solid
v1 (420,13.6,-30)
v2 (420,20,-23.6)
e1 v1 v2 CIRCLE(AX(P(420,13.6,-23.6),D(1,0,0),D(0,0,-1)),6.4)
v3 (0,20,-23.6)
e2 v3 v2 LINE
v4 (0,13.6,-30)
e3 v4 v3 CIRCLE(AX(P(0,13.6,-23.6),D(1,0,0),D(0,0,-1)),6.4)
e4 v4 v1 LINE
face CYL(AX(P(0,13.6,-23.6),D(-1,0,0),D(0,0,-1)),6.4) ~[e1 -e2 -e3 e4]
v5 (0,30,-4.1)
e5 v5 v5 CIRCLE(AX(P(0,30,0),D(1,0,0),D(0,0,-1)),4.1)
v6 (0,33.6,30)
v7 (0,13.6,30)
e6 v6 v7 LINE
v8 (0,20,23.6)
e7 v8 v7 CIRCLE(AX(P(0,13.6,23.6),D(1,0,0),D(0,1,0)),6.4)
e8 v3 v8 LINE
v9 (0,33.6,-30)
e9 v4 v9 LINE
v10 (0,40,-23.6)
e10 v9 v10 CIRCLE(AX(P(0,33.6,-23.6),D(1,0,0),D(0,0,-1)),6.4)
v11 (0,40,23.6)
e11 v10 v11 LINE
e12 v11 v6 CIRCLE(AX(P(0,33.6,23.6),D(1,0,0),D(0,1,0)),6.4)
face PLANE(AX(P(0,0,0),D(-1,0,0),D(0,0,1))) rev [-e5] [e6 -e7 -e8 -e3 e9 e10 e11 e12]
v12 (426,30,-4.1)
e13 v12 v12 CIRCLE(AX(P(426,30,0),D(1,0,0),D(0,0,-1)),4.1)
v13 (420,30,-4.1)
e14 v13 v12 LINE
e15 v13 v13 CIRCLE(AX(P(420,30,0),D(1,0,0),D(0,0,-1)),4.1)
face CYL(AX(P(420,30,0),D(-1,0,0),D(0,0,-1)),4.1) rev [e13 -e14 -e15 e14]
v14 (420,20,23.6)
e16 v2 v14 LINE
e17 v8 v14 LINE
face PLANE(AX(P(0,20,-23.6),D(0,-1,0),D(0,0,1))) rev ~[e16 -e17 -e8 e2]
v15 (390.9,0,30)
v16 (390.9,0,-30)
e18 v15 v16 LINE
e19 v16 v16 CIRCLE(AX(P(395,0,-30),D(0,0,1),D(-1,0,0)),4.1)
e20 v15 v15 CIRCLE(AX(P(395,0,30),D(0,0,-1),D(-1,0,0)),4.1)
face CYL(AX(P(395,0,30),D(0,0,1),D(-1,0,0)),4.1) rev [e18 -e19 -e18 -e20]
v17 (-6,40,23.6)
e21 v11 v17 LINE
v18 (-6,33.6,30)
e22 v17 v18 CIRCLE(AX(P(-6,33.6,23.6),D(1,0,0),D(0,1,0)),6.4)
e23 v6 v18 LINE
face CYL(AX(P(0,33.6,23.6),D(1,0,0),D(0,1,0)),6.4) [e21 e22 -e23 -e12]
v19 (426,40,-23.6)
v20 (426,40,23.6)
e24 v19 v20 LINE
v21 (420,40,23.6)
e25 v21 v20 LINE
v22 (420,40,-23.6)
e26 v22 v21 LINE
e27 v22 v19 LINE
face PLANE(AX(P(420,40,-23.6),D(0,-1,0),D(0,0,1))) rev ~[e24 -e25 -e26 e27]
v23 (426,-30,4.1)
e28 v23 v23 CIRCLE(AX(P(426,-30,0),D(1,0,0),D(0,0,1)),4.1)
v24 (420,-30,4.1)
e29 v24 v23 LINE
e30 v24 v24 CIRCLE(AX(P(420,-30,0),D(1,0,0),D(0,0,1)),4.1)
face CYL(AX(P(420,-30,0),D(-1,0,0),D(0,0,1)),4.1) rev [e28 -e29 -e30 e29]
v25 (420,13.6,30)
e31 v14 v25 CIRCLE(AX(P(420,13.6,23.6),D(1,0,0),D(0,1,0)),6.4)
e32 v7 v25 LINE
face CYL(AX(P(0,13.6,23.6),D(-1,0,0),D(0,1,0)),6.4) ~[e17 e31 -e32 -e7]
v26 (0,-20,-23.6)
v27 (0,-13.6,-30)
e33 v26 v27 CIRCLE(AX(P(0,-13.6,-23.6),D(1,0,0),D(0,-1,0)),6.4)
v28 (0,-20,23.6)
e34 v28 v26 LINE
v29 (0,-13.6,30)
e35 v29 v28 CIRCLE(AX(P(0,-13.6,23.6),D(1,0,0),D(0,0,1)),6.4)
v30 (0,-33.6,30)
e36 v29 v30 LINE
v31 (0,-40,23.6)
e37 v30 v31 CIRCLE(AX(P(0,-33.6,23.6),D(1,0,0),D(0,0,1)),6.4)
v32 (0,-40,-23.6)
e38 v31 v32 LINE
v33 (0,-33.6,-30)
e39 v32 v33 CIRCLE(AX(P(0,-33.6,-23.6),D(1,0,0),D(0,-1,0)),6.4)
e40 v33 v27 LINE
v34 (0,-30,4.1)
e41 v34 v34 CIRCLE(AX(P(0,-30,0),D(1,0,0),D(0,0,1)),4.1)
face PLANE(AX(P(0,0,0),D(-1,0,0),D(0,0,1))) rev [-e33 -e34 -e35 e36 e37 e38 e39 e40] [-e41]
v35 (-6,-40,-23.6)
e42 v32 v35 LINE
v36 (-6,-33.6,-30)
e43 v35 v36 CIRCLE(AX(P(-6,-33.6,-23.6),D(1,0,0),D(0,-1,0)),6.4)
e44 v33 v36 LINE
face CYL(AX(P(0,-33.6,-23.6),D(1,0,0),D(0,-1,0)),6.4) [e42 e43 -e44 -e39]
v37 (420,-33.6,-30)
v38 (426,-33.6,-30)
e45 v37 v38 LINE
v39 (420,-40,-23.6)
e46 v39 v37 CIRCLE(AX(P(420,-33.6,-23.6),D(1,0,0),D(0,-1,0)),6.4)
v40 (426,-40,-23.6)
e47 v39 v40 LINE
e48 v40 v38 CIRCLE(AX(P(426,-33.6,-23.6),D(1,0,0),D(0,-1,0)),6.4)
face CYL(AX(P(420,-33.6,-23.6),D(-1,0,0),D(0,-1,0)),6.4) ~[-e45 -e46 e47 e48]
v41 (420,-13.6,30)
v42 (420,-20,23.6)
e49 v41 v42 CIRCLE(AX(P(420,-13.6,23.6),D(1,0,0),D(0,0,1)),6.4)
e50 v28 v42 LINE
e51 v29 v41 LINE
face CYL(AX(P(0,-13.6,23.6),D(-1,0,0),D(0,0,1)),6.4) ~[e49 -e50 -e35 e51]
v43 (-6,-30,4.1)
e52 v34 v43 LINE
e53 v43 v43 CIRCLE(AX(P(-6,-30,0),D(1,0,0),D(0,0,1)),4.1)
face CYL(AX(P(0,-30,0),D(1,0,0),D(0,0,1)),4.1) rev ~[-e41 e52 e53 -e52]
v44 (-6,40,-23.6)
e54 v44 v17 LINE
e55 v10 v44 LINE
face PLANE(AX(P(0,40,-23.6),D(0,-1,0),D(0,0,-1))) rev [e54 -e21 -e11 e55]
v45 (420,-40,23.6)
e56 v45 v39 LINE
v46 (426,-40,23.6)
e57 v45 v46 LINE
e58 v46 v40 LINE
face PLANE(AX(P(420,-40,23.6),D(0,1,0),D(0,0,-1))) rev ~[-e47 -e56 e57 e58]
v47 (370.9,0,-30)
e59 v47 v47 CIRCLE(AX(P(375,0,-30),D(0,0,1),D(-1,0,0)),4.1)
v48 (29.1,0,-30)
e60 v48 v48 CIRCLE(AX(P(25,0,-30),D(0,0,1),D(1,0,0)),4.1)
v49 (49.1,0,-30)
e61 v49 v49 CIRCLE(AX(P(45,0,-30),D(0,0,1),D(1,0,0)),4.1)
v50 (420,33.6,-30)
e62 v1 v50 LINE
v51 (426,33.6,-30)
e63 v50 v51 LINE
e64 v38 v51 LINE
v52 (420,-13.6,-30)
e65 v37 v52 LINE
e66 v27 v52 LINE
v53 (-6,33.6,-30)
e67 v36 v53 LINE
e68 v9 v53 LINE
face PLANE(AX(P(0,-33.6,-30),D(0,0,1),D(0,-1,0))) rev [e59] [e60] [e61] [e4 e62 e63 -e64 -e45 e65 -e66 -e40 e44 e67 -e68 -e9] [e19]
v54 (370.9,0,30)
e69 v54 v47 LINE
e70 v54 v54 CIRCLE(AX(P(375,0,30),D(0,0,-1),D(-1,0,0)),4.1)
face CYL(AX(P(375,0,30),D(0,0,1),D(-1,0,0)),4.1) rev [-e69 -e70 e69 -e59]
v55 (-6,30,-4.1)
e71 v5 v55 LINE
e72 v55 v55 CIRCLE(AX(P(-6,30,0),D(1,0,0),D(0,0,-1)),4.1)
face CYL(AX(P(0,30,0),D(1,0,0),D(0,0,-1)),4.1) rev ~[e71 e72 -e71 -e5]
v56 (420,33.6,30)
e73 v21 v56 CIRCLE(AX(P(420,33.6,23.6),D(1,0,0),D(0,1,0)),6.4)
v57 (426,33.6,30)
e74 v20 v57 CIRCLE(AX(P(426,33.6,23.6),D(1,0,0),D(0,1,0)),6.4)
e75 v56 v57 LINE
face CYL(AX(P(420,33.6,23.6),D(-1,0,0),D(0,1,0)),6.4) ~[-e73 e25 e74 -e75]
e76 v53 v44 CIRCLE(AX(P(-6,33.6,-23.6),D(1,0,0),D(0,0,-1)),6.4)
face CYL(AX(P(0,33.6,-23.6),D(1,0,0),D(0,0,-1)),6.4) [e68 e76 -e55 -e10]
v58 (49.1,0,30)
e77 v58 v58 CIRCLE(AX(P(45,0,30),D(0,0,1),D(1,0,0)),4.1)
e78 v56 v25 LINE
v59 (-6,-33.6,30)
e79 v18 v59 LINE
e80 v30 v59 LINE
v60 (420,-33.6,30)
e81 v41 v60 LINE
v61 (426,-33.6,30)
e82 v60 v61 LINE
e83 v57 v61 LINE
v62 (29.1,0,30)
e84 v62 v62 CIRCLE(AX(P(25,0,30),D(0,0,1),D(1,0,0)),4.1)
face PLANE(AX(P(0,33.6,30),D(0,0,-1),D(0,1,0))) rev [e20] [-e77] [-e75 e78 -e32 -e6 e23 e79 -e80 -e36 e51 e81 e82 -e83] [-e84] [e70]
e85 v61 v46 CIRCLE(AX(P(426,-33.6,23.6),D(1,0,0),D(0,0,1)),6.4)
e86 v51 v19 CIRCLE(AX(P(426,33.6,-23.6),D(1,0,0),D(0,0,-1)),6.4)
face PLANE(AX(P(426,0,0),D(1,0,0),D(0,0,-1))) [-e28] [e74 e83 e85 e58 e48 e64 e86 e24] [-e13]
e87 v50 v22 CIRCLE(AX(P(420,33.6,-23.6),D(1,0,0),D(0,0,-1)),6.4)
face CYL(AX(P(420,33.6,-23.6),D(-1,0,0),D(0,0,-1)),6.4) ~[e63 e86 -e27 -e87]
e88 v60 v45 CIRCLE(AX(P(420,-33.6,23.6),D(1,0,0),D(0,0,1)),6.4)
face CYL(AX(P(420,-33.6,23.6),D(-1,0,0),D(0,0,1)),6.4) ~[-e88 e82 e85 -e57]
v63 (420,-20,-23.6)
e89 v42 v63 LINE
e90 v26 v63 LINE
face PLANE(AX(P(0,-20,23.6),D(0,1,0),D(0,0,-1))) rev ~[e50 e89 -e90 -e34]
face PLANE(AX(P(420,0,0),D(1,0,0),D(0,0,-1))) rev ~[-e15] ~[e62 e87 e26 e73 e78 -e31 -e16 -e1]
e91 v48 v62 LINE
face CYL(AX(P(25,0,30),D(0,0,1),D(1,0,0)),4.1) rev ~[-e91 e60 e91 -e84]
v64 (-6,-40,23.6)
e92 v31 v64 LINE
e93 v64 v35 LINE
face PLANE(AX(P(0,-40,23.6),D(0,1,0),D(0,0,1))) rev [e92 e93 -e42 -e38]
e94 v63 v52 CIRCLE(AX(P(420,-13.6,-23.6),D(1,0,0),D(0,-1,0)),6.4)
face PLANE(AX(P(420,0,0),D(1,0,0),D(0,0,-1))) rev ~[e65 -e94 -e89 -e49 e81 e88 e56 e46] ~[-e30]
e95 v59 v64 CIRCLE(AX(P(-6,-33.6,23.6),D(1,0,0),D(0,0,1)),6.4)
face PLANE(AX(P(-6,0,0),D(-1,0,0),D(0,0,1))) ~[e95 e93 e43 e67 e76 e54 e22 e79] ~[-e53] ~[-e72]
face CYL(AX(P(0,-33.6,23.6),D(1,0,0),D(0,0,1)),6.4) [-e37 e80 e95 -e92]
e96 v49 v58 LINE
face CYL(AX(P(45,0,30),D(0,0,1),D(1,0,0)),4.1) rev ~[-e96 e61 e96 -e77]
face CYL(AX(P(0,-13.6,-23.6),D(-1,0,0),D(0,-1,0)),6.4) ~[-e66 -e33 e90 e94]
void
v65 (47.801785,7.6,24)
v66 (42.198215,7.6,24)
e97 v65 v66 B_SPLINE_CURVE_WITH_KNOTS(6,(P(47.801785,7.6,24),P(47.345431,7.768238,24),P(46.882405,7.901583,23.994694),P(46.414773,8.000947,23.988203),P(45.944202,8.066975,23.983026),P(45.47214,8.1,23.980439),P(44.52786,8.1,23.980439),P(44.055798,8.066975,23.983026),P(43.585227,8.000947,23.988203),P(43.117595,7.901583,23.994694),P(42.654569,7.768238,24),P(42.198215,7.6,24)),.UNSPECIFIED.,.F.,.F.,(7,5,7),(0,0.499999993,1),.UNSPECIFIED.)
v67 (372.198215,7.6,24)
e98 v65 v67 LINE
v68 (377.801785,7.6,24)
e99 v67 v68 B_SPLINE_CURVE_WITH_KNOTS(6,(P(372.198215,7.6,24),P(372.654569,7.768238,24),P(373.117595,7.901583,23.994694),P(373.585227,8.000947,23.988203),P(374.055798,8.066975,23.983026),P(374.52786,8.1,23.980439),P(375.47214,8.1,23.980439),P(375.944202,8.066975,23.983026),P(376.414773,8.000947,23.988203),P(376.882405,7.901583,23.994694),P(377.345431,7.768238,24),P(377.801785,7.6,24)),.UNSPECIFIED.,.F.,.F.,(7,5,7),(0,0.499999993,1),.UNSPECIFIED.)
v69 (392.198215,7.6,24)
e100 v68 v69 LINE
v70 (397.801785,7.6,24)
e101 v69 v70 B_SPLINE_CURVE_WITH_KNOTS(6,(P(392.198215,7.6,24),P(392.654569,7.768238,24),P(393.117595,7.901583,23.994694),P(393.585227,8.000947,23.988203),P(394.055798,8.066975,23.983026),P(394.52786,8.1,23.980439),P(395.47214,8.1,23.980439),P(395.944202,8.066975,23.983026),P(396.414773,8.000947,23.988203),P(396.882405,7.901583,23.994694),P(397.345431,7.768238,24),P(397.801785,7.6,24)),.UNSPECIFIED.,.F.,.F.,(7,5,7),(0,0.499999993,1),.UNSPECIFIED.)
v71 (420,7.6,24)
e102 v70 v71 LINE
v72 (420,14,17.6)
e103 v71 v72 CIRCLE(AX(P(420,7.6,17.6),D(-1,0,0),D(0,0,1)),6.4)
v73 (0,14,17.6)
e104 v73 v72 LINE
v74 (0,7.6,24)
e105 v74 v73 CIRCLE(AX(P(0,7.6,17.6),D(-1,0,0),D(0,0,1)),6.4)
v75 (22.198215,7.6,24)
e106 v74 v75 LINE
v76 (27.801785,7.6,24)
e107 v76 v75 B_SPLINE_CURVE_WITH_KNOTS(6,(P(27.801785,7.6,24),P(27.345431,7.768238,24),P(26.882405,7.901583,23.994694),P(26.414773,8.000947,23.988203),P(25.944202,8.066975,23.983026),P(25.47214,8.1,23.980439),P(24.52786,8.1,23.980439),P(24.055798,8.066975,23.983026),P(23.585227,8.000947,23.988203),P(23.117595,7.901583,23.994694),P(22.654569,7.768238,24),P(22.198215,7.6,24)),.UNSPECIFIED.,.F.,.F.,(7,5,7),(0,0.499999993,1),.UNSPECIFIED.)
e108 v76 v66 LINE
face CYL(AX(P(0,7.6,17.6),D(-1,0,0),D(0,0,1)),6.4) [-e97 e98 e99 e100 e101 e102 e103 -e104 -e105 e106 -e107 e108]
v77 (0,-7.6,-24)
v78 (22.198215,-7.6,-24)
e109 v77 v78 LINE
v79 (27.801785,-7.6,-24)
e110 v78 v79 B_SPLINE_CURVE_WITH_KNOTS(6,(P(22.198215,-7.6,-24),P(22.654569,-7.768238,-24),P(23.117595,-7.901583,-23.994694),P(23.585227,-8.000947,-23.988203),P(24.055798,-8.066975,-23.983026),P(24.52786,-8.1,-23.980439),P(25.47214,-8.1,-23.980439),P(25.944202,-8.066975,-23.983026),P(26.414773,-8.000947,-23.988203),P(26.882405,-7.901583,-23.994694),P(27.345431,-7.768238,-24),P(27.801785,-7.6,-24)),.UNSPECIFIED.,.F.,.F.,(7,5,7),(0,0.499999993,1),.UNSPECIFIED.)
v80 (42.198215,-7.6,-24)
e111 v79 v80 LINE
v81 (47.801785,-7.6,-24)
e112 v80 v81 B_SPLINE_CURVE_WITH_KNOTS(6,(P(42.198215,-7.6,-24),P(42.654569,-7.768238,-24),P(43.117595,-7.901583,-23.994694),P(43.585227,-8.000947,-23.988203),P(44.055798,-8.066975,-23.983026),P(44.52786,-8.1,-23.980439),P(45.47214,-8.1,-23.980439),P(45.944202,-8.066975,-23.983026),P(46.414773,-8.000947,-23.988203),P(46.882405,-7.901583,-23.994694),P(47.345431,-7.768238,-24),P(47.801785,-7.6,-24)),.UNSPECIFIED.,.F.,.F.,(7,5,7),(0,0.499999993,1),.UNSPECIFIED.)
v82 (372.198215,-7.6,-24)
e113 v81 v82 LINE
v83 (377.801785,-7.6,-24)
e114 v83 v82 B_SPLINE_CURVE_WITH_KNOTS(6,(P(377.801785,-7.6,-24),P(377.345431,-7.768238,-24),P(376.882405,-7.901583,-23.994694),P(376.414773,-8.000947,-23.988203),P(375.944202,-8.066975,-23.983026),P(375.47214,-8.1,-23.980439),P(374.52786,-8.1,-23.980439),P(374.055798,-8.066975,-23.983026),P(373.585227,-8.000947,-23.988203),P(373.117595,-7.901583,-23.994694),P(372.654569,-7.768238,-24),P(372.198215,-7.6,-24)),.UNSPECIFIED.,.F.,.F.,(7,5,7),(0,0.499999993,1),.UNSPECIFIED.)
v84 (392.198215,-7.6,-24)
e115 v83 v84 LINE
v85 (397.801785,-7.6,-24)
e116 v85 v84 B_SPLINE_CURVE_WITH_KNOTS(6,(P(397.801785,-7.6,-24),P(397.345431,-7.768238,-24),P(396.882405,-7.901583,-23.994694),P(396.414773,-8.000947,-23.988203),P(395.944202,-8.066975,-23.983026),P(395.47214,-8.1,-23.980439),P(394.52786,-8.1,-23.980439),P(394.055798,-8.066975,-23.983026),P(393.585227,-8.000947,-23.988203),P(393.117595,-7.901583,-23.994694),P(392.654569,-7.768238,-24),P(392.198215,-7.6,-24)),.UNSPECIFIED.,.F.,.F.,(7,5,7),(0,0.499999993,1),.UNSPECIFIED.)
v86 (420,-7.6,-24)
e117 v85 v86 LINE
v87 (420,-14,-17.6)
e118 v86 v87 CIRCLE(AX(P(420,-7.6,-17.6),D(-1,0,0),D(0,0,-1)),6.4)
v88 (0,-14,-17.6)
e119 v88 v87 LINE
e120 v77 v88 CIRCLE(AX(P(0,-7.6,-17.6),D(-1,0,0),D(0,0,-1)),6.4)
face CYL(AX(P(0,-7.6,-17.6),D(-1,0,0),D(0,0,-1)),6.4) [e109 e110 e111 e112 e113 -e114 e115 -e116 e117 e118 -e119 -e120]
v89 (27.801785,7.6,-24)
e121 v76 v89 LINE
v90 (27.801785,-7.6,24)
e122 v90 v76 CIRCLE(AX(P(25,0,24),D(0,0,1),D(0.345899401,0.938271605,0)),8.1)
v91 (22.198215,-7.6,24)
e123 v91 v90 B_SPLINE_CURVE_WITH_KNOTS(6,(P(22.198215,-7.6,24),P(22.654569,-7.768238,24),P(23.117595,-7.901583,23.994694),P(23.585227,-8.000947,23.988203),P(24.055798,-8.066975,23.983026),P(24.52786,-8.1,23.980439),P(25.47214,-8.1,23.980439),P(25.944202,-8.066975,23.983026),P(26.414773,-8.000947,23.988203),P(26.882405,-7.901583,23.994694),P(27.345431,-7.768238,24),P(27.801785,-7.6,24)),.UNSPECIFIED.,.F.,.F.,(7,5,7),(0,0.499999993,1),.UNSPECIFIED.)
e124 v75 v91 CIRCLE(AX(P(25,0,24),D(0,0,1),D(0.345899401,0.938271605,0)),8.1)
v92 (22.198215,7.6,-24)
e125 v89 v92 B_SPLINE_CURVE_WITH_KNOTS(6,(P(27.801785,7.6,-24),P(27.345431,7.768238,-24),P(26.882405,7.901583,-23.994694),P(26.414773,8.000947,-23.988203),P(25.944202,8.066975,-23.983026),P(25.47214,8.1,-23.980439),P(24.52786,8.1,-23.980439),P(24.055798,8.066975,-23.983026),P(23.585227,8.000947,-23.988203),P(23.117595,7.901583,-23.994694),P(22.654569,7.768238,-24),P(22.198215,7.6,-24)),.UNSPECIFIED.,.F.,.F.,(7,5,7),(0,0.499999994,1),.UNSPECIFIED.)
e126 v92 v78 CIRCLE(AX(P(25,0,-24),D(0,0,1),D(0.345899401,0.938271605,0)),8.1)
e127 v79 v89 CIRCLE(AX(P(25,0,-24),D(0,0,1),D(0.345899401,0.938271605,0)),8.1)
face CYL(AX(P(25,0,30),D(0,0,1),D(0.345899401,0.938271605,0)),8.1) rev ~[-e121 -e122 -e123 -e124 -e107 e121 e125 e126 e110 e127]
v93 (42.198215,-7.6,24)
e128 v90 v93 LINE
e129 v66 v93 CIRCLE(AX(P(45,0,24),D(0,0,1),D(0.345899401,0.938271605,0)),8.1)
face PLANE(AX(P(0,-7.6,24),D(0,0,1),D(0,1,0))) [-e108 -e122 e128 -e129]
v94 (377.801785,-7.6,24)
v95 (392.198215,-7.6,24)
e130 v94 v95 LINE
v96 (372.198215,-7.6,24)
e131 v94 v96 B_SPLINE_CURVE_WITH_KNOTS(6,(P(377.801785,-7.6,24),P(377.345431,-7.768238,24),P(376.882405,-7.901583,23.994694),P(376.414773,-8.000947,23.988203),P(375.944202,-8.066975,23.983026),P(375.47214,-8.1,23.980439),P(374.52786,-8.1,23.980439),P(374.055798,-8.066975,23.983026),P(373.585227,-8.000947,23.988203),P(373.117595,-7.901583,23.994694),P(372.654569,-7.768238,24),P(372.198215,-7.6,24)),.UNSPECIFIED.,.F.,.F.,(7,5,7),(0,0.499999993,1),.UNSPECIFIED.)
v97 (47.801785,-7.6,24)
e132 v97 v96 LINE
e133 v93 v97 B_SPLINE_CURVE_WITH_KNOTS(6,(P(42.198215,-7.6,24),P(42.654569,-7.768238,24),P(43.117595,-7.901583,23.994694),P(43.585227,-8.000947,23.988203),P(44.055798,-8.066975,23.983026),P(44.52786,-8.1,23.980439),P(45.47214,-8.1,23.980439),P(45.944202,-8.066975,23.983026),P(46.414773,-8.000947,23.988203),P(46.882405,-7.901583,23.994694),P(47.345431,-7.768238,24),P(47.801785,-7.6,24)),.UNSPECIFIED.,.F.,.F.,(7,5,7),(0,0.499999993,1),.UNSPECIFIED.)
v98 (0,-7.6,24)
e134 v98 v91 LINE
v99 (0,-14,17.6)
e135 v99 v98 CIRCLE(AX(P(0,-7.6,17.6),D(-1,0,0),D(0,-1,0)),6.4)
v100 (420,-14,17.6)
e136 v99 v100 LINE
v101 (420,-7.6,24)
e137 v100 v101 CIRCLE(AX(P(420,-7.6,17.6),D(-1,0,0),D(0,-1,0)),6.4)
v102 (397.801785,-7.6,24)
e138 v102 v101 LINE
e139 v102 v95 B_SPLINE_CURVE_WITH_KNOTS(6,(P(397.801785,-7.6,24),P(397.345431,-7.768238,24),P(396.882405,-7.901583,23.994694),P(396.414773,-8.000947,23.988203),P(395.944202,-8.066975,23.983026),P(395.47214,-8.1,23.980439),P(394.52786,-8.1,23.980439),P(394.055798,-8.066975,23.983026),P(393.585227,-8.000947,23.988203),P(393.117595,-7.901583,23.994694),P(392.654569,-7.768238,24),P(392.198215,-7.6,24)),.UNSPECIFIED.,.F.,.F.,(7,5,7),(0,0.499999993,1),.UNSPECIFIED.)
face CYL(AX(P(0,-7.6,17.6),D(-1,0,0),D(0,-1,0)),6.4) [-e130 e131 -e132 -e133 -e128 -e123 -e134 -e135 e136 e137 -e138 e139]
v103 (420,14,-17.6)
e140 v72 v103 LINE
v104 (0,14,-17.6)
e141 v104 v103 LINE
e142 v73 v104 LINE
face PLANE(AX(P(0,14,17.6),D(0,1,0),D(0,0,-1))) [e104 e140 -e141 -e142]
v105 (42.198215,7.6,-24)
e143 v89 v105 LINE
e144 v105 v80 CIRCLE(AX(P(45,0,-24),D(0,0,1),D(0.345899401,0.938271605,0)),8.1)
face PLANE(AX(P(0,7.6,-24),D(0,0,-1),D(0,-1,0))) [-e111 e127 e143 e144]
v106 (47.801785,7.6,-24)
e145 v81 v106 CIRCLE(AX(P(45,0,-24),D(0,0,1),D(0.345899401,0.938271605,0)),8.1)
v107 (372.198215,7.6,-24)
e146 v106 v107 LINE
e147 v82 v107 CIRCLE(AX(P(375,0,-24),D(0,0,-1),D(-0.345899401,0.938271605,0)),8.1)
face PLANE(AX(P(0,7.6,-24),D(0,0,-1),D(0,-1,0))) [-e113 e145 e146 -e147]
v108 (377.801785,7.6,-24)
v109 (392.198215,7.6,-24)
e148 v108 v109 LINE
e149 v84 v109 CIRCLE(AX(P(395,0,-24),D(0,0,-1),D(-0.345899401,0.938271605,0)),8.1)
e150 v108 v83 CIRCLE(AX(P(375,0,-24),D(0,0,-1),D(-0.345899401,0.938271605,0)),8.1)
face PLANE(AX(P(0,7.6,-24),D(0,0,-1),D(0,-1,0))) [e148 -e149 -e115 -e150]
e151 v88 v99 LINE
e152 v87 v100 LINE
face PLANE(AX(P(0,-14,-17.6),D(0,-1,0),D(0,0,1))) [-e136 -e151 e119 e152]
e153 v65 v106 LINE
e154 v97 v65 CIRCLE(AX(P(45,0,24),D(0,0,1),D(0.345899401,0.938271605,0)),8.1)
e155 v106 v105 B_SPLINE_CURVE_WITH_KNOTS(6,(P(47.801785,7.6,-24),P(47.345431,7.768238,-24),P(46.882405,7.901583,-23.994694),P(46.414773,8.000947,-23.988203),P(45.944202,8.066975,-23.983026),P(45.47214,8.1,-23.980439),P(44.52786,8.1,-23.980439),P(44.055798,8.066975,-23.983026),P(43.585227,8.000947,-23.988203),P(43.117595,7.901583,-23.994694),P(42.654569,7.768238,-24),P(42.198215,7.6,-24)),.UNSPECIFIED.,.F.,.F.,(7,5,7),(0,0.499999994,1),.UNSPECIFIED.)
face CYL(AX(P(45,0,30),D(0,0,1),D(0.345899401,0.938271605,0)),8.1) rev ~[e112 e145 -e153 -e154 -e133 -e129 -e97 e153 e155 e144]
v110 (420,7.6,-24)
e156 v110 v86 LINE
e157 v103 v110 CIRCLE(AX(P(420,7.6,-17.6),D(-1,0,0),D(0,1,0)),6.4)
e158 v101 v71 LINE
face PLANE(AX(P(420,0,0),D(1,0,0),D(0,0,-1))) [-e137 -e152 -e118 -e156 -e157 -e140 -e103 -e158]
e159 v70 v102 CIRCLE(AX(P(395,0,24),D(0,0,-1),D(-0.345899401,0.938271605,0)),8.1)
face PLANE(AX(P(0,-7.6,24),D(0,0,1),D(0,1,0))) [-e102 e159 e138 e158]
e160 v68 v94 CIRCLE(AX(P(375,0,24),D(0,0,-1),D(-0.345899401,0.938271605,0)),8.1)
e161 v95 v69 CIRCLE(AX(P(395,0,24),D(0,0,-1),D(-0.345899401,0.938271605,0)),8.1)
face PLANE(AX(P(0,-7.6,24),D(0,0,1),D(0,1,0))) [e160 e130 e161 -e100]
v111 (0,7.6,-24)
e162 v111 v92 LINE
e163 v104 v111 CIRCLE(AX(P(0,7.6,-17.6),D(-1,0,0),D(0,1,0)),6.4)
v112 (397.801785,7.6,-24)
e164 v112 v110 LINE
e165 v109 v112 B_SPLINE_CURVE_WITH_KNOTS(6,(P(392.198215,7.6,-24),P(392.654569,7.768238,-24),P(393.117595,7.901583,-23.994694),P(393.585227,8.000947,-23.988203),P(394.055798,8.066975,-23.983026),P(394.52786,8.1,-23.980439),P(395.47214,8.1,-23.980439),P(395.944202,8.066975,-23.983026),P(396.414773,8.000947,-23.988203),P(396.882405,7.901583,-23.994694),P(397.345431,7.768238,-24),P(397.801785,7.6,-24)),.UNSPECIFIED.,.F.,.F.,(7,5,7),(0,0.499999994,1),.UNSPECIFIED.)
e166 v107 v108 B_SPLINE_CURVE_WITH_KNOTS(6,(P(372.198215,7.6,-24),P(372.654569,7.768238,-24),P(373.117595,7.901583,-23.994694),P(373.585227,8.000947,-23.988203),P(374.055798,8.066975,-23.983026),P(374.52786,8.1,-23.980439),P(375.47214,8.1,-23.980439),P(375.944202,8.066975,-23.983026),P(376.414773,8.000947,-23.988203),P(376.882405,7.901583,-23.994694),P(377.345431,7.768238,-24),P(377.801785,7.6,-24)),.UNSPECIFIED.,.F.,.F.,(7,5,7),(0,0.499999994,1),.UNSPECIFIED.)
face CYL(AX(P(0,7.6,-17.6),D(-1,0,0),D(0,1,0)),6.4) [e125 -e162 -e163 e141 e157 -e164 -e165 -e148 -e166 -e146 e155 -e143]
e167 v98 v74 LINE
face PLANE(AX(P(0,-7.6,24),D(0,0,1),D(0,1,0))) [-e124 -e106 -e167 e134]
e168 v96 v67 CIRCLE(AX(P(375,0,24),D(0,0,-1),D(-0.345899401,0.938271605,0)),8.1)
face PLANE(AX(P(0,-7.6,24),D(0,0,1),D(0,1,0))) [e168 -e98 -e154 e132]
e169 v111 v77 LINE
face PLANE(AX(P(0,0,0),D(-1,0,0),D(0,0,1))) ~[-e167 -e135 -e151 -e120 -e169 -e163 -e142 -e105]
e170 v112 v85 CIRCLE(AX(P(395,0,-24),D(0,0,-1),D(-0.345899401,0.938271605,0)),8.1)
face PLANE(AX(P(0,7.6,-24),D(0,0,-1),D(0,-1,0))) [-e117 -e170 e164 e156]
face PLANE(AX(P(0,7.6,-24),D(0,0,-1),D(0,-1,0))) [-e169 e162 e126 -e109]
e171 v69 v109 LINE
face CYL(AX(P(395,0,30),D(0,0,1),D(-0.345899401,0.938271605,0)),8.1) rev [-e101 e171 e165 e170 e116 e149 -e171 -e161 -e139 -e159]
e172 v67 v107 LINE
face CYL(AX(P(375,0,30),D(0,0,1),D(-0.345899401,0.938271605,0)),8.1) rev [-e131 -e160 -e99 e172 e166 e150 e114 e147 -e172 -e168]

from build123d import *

# Parameters (mm, degrees)
DODANIE_WYCI_GNI_CIE2_DEPTH = 420
SZKIC4_R                    = 4.1
DODANIE_WYCI_GNI_CIE3_DEPTH = 6
DODANIE_WYCI_GNI_CIE4_REACH = 434.06
SZKIC5_R                    = 8.1
SZKIC5_R_2                  = 4.1
SZKIC6_R                    = 4.1
WYTNIJ_WYCI_GNI_CIE1_DEPTH  = 433.060180993


with BuildPart() as part:
    # Szkic3 → Dodanie-wyciągnięcie2 (new body)
    with BuildSketch(Plane(origin=(0, 0, 0), x_dir=(0, 0, -1), z_dir=(1, 0, 0))):
        with BuildLine():
            Line((-23.6, -20), (23.6, -20))
            ThreePointArc((23.6, -20), (28.1254834, -18.1254834), (30, -13.6))
            Line((30, -13.6), (30, 13.6))
            ThreePointArc((30, 13.6), (28.1254834, 18.1254834), (23.6, 20))
            Line((23.6, 20), (-23.6, 20))
            ThreePointArc((-23.6, 20), (-28.1254834, 18.1254834), (-30, 13.6))
            Line((-30, 13.6), (-30, -13.6))
            ThreePointArc((-30, -13.6), (-28.1254834, -18.1254834), (-23.6, -20))
        make_face()
        with BuildLine():
            Line((-17.6, 14), (17.6, 14))
            ThreePointArc((17.6, 14), (22.1254834, 12.1254834), (24, 7.6))
            Line((24, 7.6), (24, -7.6))
            ThreePointArc((24, -7.6), (22.1254834, -12.1254834), (17.6, -14))
            Line((17.6, -14), (-17.6, -14))
            ThreePointArc((-17.6, -14), (-22.1254834, -12.1254834), (-24, -7.6))
            Line((-24, -7.6), (-24, 7.6))
            ThreePointArc((-24, 7.6), (-22.1254834, 12.1254834), (-17.6, 14))
        make_face(mode=Mode.SUBTRACT)
    extrude(amount=DODANIE_WYCI_GNI_CIE2_DEPTH)

    # Szkic4 → Dodanie-wyciągnięcie3 (add)
    with BuildSketch(Plane(origin=(420, 0, 0), x_dir=(0, 0, -1), z_dir=(1, 0, 0))):
        with BuildLine():
            Line((-23.6, -40), (23.6, -40))
            ThreePointArc((23.6, -40), (28.1254834, -38.1254834), (30, -33.6))
            Line((30, -33.6), (30, 33.6))
            ThreePointArc((30, 33.6), (28.1254834, 38.1254834), (23.6, 40))
            Line((23.6, 40), (-23.6, 40))
            ThreePointArc((-23.6, 40), (-28.1254834, 38.1254834), (-30, 33.6))
            Line((-30, 33.6), (-30, -33.6))
            ThreePointArc((-30, -33.6), (-28.1254834, -38.1254834), (-23.6, -40))
        make_face()
        with Locations((0, 30)):
            Circle(SZKIC4_R, mode=Mode.SUBTRACT)
        with Locations(Location((0, -30, 0), (0, 0, 180))):
            Circle(SZKIC4_R, mode=Mode.SUBTRACT)
    dodanie_wyci_gni_cie3 = extrude(amount=DODANIE_WYCI_GNI_CIE3_DEPTH)

    # Szkic5 → Dodanie-wyciągnięcie4 (add, up to next)
    with BuildSketch(Plane.XY.offset(30), mode=Mode.PRIVATE) as dodanie_wyci_gni_cie4_sk1:
        with Locations(Location((25, 0, 0), (0, 0, 69.763291811))):
            Circle(SZKIC5_R)
        with Locations((25, 0)):
            Circle(SZKIC5_R_2, mode=Mode.SUBTRACT)
    dodanie_wyci_gni_cie4_tool1 = extrude(dodanie_wyci_gni_cie4_sk1.sketch, amount=-DODANIE_WYCI_GNI_CIE4_REACH, mode=Mode.PRIVATE) - part.part
    # Szkic5 → Dodanie-wyciągnięcie4 (add, up to next)
    with BuildSketch(Plane.XY.offset(30), mode=Mode.PRIVATE) as dodanie_wyci_gni_cie4_sk2:
        with Locations(Location((45, 0, 0), (0, 0, 69.763291811))):
            Circle(SZKIC5_R)
        with Locations((45, 0)):
            Circle(SZKIC5_R_2, mode=Mode.SUBTRACT)
    dodanie_wyci_gni_cie4_tool2 = extrude(dodanie_wyci_gni_cie4_sk2.sketch, amount=-DODANIE_WYCI_GNI_CIE4_REACH, mode=Mode.PRIVATE) - part.part
    dodanie_wyci_gni_cie4_1 = dodanie_wyci_gni_cie4_tool1.solids().sort_by_distance((22.277461, -7.38504, 30))[0]
    add(dodanie_wyci_gni_cie4_1)
    dodanie_wyci_gni_cie4_2 = dodanie_wyci_gni_cie4_tool2.solids().sort_by_distance((42.277461, -7.38504, 30))[0]
    add(dodanie_wyci_gni_cie4_2)
    dodanie_wyci_gni_cie4 = dodanie_wyci_gni_cie4_1 + dodanie_wyci_gni_cie4_2  # Dodanie-wyciągnięcie4 as one shape, for the pattern or mirror that repeats it

    # Szkic6 → Wytnij-wyciągnięcie1 (cut, through all)
    with BuildSketch(Plane.XY.offset(30)):
        with Locations((25, 0)):
            Circle(SZKIC6_R)
        with Locations((45, 0)):
            Circle(SZKIC6_R)
    wytnij_wyci_gni_cie1 = extrude(amount=-WYTNIJ_WYCI_GNI_CIE1_DEPTH, mode=Mode.SUBTRACT)

    # Lustro3: Dodanie-wyciągnięcie4, Wytnij-wyciągnięcie1 across plane
    add(dodanie_wyci_gni_cie4.mirror(Plane(origin=(210, 0, 0), x_dir=(0, 0, 1), z_dir=(1, 0, 0))))
    add(wytnij_wyci_gni_cie1.mirror(Plane(origin=(210, 0, 0), x_dir=(0, 0, 1), z_dir=(1, 0, 0))), mode=Mode.SUBTRACT)

    # Lustro4: Dodanie-wyciągnięcie3 across plane
    add(dodanie_wyci_gni_cie3.mirror(Plane(origin=(210, 0, 0), x_dir=(0, 0, 1), z_dir=(1, 0, 0))))


solid = part.part
